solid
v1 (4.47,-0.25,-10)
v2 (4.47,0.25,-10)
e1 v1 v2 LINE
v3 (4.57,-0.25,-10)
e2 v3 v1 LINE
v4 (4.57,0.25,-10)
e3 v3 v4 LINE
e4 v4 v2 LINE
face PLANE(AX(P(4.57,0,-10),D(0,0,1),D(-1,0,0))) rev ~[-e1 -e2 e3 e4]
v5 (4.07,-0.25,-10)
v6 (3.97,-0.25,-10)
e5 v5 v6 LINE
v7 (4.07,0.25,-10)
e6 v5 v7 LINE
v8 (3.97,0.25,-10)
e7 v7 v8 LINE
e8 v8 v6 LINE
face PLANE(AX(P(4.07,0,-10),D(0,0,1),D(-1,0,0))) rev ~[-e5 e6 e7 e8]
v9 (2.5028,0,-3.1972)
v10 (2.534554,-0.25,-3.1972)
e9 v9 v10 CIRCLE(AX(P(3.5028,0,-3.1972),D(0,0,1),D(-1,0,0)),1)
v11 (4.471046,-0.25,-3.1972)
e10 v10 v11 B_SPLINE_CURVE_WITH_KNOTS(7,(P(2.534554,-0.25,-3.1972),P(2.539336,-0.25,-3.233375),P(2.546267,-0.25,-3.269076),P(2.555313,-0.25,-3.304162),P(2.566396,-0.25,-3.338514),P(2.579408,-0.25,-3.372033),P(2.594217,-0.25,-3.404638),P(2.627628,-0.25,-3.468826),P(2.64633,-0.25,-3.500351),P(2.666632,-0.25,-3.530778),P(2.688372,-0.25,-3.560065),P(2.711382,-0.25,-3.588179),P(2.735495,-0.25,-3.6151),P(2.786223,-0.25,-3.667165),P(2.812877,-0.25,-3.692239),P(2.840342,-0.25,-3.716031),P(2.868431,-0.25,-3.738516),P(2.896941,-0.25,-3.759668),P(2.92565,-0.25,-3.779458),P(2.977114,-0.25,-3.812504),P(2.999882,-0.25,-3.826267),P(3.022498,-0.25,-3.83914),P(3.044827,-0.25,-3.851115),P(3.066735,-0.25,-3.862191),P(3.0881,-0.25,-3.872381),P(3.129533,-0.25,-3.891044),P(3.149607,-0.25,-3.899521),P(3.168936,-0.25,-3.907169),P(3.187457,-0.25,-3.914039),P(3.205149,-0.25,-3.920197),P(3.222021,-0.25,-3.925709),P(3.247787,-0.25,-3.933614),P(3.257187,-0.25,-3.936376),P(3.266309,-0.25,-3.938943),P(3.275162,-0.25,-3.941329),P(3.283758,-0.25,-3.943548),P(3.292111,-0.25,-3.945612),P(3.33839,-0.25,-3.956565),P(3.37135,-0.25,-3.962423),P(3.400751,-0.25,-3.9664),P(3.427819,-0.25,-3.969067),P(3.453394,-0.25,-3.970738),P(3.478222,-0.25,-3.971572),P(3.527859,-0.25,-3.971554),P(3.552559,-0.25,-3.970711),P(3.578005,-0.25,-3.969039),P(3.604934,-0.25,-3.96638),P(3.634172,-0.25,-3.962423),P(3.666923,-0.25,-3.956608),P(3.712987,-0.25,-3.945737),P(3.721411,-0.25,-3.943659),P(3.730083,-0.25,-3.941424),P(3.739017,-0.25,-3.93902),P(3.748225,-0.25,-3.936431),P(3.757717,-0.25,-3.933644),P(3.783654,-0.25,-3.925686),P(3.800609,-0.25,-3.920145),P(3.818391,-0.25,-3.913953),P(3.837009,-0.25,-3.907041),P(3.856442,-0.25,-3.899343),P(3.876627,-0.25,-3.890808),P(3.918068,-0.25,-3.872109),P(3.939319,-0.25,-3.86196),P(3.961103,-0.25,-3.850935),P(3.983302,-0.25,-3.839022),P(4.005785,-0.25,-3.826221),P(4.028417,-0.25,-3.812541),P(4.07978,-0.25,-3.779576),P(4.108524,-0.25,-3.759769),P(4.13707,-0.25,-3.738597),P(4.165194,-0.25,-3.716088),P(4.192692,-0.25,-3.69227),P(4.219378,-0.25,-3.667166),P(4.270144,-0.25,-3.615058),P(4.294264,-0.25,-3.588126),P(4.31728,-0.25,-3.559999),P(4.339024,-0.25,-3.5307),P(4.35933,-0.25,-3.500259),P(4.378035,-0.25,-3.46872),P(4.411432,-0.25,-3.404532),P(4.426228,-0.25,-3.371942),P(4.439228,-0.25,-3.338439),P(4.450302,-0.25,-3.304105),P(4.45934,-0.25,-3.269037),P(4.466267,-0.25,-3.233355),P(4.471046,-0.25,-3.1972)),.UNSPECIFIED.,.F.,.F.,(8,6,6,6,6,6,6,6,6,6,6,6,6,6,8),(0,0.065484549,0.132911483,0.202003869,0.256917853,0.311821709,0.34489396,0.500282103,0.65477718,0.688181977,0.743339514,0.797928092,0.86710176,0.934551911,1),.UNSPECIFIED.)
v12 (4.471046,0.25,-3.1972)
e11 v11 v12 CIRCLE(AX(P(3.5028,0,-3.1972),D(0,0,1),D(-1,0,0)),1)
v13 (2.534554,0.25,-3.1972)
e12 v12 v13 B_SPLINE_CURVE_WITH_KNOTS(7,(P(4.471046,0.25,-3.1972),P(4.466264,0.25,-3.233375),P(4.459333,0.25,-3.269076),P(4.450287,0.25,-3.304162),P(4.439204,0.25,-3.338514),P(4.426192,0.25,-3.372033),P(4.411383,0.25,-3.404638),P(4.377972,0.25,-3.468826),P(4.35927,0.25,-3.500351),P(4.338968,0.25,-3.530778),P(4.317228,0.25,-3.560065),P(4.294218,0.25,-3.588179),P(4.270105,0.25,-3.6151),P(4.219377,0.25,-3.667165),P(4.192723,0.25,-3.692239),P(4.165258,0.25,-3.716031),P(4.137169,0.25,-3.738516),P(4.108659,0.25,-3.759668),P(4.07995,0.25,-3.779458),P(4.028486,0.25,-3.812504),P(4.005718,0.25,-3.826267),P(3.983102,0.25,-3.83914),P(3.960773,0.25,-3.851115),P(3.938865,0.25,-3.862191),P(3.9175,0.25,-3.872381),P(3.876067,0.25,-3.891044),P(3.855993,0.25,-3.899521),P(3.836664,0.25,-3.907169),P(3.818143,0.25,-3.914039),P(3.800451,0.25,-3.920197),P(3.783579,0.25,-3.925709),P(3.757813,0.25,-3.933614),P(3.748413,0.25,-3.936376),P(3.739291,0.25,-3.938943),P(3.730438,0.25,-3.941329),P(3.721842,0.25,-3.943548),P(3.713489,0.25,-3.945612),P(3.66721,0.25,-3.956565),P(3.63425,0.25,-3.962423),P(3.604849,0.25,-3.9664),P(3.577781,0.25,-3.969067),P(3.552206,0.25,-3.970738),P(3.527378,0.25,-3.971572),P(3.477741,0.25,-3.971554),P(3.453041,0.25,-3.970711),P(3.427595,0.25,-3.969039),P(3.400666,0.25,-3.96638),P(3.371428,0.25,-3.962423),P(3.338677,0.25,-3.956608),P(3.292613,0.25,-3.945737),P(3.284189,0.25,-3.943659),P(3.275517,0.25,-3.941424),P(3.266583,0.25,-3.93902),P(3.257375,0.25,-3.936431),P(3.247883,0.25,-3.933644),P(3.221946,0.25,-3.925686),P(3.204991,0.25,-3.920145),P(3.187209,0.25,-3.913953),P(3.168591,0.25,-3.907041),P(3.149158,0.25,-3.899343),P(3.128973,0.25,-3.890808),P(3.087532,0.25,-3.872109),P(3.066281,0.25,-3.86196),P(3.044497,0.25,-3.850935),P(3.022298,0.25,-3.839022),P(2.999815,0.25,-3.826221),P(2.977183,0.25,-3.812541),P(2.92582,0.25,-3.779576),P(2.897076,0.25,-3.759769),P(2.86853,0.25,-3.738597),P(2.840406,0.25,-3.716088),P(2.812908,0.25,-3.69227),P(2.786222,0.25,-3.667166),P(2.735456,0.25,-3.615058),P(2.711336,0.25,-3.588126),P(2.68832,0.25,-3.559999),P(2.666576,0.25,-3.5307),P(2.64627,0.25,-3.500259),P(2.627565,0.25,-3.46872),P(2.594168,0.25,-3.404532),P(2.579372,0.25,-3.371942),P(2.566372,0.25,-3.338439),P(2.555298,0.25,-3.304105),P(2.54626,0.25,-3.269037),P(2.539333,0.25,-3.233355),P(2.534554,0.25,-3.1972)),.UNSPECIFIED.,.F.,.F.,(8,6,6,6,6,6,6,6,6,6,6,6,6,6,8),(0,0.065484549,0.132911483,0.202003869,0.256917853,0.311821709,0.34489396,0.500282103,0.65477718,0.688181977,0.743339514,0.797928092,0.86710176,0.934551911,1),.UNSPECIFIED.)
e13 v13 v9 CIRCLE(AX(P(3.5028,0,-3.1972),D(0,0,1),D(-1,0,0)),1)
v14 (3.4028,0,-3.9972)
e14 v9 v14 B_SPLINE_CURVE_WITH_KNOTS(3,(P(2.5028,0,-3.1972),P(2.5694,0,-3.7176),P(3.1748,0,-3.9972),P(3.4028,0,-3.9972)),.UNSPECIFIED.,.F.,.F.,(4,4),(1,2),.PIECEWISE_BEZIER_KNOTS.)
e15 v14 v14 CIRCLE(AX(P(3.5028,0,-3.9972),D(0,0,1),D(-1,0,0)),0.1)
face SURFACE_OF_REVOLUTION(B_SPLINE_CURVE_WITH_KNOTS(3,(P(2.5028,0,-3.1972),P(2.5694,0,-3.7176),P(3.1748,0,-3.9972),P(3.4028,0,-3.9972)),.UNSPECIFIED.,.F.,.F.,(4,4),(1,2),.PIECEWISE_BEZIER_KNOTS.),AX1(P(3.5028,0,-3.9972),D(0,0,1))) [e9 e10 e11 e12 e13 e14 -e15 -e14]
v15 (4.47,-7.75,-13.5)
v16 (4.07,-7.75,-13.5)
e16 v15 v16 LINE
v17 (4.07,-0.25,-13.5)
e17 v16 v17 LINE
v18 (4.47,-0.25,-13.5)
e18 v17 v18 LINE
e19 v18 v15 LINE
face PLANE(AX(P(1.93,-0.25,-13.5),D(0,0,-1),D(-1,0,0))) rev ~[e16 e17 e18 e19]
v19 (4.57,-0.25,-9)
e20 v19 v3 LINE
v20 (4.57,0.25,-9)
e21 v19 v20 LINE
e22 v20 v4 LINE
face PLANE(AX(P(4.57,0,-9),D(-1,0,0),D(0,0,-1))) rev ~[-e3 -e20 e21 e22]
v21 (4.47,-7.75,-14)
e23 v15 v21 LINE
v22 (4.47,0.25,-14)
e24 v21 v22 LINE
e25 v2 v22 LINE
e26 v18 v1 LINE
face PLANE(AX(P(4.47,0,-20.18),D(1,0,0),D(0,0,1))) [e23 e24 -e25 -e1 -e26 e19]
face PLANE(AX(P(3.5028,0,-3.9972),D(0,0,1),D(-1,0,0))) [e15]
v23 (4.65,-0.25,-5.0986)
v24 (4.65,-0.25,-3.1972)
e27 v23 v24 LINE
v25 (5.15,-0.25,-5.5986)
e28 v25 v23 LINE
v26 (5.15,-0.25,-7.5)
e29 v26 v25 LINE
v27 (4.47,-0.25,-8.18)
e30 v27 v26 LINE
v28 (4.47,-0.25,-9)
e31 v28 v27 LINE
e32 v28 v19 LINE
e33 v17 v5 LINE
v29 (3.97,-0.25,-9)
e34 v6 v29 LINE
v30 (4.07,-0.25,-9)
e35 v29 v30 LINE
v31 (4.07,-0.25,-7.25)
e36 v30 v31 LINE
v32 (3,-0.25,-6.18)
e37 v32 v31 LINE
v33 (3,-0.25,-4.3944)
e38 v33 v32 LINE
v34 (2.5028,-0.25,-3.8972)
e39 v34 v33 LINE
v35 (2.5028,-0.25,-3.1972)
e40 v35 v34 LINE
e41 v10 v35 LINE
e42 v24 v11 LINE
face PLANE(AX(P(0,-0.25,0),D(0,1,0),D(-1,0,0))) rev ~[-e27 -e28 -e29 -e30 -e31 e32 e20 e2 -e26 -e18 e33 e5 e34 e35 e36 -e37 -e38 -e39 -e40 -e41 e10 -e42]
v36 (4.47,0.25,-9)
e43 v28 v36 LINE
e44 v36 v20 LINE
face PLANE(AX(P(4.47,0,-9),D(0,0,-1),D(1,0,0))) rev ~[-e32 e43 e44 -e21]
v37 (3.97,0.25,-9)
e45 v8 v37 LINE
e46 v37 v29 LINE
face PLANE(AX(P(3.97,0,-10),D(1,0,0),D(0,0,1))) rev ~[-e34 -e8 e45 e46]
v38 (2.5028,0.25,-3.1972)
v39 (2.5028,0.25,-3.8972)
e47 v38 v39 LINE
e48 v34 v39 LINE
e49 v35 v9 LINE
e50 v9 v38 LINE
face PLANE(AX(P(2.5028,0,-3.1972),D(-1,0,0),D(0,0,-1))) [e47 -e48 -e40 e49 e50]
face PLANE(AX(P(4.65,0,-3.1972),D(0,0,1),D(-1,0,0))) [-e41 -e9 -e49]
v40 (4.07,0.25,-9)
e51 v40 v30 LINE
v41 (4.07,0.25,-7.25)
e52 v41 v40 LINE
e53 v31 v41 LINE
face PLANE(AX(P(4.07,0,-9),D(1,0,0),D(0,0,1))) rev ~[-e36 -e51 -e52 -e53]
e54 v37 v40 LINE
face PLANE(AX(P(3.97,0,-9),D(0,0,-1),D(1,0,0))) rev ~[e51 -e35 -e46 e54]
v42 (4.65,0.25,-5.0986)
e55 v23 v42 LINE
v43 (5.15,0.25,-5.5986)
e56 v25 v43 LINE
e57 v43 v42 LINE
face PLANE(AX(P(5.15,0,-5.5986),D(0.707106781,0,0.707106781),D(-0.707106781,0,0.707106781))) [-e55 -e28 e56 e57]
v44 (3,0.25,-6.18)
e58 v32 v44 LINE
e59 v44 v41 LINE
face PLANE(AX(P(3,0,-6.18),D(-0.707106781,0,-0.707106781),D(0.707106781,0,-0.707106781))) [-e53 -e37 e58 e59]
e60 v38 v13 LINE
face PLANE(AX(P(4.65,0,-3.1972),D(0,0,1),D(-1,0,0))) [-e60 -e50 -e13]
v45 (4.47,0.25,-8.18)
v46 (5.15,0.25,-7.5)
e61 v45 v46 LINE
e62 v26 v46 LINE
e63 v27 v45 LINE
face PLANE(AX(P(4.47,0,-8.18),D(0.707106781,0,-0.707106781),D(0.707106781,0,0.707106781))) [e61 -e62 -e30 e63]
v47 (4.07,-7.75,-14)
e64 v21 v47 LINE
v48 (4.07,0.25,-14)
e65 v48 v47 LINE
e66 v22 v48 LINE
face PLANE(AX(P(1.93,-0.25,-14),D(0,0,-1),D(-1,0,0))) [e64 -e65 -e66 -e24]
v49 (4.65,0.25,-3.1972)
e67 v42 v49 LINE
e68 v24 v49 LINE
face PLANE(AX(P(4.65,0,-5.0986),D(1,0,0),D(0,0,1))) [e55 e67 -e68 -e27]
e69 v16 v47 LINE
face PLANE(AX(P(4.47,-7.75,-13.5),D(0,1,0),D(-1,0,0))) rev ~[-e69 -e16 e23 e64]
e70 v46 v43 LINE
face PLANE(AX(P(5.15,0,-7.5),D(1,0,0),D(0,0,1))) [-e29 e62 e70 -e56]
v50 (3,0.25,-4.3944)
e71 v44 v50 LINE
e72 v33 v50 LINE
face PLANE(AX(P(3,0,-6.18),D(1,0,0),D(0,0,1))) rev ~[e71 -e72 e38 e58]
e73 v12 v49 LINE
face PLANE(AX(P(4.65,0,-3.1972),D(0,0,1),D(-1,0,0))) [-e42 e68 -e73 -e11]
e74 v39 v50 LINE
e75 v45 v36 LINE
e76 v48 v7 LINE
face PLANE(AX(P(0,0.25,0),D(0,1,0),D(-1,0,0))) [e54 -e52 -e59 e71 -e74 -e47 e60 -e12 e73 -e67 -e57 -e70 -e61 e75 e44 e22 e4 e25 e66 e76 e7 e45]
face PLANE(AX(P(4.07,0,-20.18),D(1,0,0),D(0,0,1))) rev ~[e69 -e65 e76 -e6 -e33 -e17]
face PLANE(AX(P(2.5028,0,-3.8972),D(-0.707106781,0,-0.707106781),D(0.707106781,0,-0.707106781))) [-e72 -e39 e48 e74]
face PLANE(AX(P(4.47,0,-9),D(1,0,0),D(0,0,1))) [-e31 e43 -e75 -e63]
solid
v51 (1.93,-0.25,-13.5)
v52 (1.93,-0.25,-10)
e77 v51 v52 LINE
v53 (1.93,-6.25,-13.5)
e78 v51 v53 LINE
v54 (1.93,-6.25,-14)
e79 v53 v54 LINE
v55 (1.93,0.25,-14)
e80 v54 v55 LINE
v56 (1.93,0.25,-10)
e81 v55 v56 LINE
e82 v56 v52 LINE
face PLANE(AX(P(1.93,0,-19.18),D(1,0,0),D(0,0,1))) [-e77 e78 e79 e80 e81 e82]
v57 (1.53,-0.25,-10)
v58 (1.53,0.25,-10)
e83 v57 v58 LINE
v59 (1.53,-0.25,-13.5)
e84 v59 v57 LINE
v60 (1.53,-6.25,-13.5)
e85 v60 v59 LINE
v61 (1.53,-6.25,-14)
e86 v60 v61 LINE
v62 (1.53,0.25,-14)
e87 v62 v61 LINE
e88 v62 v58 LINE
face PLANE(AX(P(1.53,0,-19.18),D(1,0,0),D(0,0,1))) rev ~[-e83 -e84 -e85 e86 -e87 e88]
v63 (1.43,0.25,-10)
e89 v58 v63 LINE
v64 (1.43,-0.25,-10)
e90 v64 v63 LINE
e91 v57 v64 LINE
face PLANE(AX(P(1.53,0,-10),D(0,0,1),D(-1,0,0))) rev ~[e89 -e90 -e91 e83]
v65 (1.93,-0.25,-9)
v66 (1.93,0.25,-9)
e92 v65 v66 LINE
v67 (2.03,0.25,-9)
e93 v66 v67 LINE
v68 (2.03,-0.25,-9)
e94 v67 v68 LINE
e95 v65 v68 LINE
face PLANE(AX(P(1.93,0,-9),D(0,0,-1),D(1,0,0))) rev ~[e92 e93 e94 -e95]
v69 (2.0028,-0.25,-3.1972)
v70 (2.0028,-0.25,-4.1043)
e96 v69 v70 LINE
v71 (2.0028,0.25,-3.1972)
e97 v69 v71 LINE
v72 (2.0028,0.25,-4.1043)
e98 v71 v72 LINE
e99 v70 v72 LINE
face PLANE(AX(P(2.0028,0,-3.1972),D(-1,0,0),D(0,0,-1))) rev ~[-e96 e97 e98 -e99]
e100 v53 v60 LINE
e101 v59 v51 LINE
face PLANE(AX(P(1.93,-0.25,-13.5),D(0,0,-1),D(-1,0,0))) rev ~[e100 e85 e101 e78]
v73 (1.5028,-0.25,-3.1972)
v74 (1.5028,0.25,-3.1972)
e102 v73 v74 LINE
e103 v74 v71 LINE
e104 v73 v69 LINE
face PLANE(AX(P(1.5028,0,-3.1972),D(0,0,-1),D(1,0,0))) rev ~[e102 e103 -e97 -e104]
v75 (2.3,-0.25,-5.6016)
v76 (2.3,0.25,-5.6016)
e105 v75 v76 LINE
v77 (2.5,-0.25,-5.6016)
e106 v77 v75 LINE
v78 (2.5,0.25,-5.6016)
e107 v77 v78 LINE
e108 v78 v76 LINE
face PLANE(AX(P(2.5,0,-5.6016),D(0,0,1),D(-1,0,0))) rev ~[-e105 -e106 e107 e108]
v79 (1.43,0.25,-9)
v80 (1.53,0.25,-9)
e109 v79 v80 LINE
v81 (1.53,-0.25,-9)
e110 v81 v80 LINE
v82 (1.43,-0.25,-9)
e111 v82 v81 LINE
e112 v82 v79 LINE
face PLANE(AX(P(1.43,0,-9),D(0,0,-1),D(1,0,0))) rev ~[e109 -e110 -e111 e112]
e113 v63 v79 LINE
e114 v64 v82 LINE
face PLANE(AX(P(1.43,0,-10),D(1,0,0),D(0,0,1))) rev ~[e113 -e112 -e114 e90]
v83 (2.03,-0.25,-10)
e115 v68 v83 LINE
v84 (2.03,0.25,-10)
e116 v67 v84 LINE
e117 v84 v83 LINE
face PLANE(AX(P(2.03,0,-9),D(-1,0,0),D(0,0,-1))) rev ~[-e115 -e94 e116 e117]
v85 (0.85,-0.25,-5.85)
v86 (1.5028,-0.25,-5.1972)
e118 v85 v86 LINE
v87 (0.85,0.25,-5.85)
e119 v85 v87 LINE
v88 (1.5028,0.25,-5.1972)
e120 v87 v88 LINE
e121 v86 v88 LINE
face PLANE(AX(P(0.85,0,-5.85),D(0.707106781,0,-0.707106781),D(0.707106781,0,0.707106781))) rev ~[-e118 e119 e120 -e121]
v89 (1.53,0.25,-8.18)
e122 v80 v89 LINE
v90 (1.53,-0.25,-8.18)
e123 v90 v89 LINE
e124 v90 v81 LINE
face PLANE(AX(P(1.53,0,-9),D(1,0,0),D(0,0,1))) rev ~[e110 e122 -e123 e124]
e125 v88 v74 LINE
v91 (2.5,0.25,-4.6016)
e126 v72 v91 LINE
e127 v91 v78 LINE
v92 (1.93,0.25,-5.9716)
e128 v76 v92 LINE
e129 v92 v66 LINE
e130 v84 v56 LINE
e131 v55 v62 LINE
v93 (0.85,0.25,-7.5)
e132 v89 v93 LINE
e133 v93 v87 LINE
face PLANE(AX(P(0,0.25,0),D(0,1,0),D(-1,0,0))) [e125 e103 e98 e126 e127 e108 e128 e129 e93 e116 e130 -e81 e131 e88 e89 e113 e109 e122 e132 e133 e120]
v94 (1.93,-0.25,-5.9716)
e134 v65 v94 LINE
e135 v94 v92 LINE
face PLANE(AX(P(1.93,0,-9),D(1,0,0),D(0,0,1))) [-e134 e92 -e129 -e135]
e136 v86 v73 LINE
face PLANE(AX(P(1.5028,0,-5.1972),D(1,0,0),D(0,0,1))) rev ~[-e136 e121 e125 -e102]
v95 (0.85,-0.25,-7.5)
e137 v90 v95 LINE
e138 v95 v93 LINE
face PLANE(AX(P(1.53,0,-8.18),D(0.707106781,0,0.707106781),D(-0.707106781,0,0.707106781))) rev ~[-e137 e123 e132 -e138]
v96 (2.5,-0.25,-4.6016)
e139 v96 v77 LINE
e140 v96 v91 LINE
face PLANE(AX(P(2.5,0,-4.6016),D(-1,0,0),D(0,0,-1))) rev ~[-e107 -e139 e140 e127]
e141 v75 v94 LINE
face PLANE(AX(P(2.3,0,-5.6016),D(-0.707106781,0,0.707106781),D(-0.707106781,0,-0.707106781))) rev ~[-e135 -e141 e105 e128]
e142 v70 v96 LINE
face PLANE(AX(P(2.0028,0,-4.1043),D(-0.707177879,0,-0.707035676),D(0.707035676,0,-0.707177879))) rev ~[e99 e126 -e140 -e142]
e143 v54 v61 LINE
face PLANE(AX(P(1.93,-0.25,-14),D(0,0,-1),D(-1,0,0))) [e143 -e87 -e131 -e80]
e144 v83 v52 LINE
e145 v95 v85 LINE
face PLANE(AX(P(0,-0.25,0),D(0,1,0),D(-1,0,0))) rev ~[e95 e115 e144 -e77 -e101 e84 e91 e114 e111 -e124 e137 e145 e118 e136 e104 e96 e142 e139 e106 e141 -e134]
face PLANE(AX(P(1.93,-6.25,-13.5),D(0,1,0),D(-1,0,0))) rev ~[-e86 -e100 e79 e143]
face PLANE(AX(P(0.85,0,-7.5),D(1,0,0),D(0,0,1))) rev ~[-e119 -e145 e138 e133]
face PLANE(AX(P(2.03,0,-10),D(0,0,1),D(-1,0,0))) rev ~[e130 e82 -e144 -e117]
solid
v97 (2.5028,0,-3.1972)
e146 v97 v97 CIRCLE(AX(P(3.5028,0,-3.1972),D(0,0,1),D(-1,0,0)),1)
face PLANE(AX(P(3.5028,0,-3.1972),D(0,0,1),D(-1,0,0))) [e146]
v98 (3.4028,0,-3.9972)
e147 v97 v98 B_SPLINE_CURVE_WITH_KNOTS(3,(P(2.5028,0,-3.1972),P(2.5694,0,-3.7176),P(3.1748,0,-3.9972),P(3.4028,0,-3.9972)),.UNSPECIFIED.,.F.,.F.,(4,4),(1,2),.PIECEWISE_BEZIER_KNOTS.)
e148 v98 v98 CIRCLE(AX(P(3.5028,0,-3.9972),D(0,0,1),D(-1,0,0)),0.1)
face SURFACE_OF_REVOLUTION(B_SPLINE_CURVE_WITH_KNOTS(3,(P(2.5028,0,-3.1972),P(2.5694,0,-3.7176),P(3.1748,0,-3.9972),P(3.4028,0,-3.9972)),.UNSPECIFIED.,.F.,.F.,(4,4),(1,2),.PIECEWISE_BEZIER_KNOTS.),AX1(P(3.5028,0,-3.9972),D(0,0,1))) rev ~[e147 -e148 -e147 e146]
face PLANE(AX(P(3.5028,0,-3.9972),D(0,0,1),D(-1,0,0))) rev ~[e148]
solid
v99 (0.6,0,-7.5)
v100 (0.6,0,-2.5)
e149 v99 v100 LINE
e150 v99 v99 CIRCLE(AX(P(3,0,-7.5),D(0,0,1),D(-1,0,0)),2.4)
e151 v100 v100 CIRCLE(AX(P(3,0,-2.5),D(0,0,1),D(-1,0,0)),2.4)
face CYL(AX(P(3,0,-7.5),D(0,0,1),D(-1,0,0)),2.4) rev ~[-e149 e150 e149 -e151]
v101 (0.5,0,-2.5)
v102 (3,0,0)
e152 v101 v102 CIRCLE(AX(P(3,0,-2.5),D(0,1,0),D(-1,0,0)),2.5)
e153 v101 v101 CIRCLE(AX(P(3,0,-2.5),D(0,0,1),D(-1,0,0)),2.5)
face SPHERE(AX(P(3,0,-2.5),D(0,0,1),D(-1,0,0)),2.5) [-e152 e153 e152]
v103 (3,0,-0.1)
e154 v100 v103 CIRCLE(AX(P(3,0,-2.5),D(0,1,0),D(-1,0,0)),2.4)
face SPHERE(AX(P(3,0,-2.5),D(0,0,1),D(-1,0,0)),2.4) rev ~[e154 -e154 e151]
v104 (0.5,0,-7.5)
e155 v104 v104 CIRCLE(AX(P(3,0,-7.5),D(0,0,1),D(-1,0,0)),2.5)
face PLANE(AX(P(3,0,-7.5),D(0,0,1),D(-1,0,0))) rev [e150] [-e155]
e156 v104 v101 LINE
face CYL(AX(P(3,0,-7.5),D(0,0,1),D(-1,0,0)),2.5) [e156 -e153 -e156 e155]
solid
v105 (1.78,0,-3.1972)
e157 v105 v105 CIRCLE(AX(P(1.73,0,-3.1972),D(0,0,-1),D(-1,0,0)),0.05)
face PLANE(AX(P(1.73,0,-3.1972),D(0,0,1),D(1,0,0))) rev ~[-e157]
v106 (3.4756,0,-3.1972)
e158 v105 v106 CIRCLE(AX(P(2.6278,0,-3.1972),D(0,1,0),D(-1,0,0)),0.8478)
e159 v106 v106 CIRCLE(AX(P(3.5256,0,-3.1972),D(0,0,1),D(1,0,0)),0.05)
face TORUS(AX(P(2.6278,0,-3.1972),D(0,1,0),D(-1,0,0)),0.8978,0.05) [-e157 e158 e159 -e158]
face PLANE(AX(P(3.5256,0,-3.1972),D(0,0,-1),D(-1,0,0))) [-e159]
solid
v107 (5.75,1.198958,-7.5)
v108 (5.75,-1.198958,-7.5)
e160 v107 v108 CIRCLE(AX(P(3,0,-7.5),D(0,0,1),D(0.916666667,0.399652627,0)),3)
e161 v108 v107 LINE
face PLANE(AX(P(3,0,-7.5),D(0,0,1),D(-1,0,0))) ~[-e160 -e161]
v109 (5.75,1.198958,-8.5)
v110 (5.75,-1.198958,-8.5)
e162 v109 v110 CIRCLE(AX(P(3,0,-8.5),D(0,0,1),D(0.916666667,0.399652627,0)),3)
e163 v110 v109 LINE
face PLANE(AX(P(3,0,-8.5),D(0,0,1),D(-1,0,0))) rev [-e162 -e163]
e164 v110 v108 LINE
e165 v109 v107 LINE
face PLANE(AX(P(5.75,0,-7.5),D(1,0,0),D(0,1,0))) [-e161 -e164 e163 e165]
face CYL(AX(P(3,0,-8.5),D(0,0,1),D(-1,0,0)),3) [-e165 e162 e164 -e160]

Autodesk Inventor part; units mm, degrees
ref_plane "YZ Plane" through (0, 0, 0) normal (1, 0, 0) x (0, 1, 0)
ref_plane "XZ Plane" through (0, 0, 0) normal (0, 1, 0) x (-1, 0, 0)
ref_plane "XY Plane" through (0, 0, 0) normal (0, 0, 1) x (1, 0, 0)
sketch "Sketch1" plane through (0, 0, 0) normal (0, 1, 0) x (-1, 0, 0)
  line L0 (-1.93, -19.18) -> (-1.53, -19.18)
  line L1 (-4.47, -20.18) -> (-4.07, -20.18)
  line L2 (-0.5, -2.5) -> (-5.5, -2.5) construction
  line L3 (-5.5, -2.5) -> (-5.5, -7.5)
  line L4 (-5.5, -7.5) -> (-0.5, -7.5)
  line L5 (-0.5, -7.5) -> (-0.5, -2.5)
  line L6 (0, -7.5) -> (-6, -7.5)
  line L7 (-6, -7.5) -> (-6, -8.5)
  line L8 (-6, -8.5) -> (0, -8.5)
  line L9 (0, -8.5) -> (0, -7.5)
  arc A0 (-0.5, -2.5) -> (-5.5, -2.5) centre (-3, -2.5) ccw
  line L10 (0, -24.216) -> (0, 4.0361) projected
  line L11 (17.1925, 0) -> (-9.8654, 0) projected
  line L12 (-3, -8.5) -> (-3, -19.8408) construction
  line L13 (-1.53, -19.18) -> (-1.53, -10)
  line L14 (-1.93, -19.18) -> (-1.93, -10)
  line L15 (-4.07, -20.18) -> (-4.07, -10)
  line L16 (-4.47, -20.18) -> (-4.47, -10)
  line L17 (-3, -8.5) -> (-3, 0)
  line L18 (-6, -19.8408) -> (0, -19.8408) construction
  line L19 (-1.43, -9) -> (-1.53, -9)
  line L20 (-2.03, -9) -> (-2.03, -10)
  line L21 (-2.03, -10) -> (-1.93, -10)
  line L22 (-1.43, -10) -> (-1.43, -9)
  line L23 (-3.97, -9) -> (-4.07, -9)
  line L24 (-4.57, -9) -> (-4.57, -10)
  line L25 (-4.57, -10) -> (-4.47, -10)
  line L26 (-3.97, -10) -> (-3.97, -9)
  line L27 (-1.93, -9) -> (-2.03, -9)
  line L28 (-4.07, -9) -> (-4.07, -7.25)
  line L29 (-4.47, -9) -> (-4.57, -9)
  line L30 (-4.07, -10) -> (-3.97, -10)
  line L31 (-1.53, -10) -> (-1.43, -10)
  line L32 (-4.47, -9) -> (-4.47, -8.18)
  line L33 (-1.93, -9) -> (-1.93, -5.9716)
  line L34 (-1.53, -9) -> (-1.53, -8.18)
  line L35 (-4.47, -8.18) -> (-5.15, -7.5)
  line L36 (-1.53, -8.18) -> (-0.85, -7.5)
  line L37 (-0.85, -7.5) -> (-0.85, -5.85)
  line L38 (-5.15, -7.5) -> (-5.15, -5.5986)
  line L39 (-5.15, -5.5986) -> (-4.65, -5.0986)
  line L40 (-4.65, -5.0986) -> (-4.65, -3.1972)
  line L41 (-4.65, -3.1972) -> (-2.5028, -3.1972)
  line L42 (-0.85, -5.85) -> (-1.5028, -5.1972)
  line L43 (-1.5028, -5.1972) -> (-1.5028, -3.1972)
  line L44 (-1.5028, -3.1972) -> (-2.0028, -3.1972)
  line L45 (-2.0028, -3.1972) -> (-2.0028, -4.1043)
  line L46 (-2.0028, -4.1043) -> (-2.5, -4.6016)
  line L47 (-2.5, -4.6016) -> (-2.5, -5.6016)
  line L48 (-2.5, -5.6016) -> (-2.3, -5.6016)
  line L49 (-2.3, -5.6016) -> (-1.93, -5.9716)
  line L50 (8.8309, -12.5892) -> (8.8309, -17.0713)
  line L51 (8.7309, -12.5892) -> (8.8309, -12.5892)
  line L52 (8.8309, -17.0713) -> (9.3309, -17.0713)
  line L53 (9.3309, -17.0713) -> (9.3309, -12.5892)
  line L54 (11.3309, -18.2444) -> (11.8309, -18.2444)
  line L55 (11.3309, -12.5815) -> (11.3309, -18.2444)
  line L56 (11.8309, -18.2444) -> (11.8309, -12.5815)
  line L57 (8.2266, -6.0537) -> (8.2266, -7.4999)
  line L58 (8.5861, -5.6941) -> (8.2266, -6.0537)
  line L59 (8.5861, -4.3452) -> (8.5861, -5.6941)
  line L60 (8.2266, -7.4999) -> (8.8309, -8.1043)
  line L61 (9.3309, -7.3282) -> (9.7365, -6.9226)
  line L62 (9.7365, -6.9226) -> (10.3309, -6.9226)
  line L63 (10.3309, -6.9226) -> (10.3309, -5.844)
  line L64 (8.5861, -4.3452) -> (11.2106, -4.3452)
  line L65 (10.8309, -6.0512) -> (10.8309, -6.9149)
  line L66 (10.8309, -6.9149) -> (11.1527, -6.9149)
  line L67 (11.2393, -4.3452) -> (11.2106, -4.3452)
  line L68 (11.1527, -6.9149) -> (11.3309, -7.0932)
  line L69 (11.8309, -8.0966) -> (12.4276, -7.4999)
  line L70 (12.4276, -7.4999) -> (12.4276, -5.8553)
  line L71 (9.4309, -11.5892) -> (9.3309, -11.5892)
  line L72 (11.8309, -11.5815) -> (11.8309, -8.0966)
  line L73 (8.8309, -8.1043) -> (8.8309, -11.5892)
  line L74 (11.3309, -7.0932) -> (11.3309, -11.5815)
  line L75 (9.3309, -11.5892) -> (9.3309, -7.3282)
  line L76 (10.3309, -5.844) -> (11.2106, -4.9643)
  line L77 (11.7107, -5.1714) -> (10.8309, -6.0512)
  line L78 (11.2106, -4.3452) -> (11.2393, -4.3452) construction
  line L79 (12.4276, -5.8553) -> (12.2082, -5.6359)
  line L80 (11.2106, -4.2719) -> (11.2106, -4.3452)
  line L81 (11.2106, -4.9643) -> (11.2106, -4.2719)
  line L82 (11.2106, -4.2719) -> (11.2393, -4.3452)
  line L83 (11.7107, -4.3453) -> (11.7107, -5.1714)
  line L84 (10.8445, -3.7709) -> (11.3445, -3.7709) construction
  spline S0 degree 3 poles (11.9954, -4.3997) (11.9862, -4.3486) (11.9578, -4.2521) (11.8889, -4.1254) (11.7974, -4.0171) (11.6749, -3.9177) (11.5186, -3.8358) (11.3301, -3.782) (11.1322, -3.7647) (10.9338, -3.7851) (10.7437, -3.8443) (10.5851, -3.9352) (10.4598, -4.0478) (10.3654, -4.1727) (10.2931, -4.3216) (10.262, -4.4371) (10.2513, -4.4991) knots 0 0 0 0 0.0625 0.125 0.1875 0.25 0.333333 0.416667 0.5 0.583333 0.666667 0.75 0.8125 0.875 0.9375 1 1 1 1
  line L85 (12.2082, -4.3453) -> (11.7107, -4.3453)
  line L86 (12.2082, -5.6359) -> (12.2082, -4.3453)
  line L87 (9.3309, -12.5892) -> (9.4309, -12.5892)
  line L88 (11.2309, -12.5815) -> (11.3309, -12.5815)
  line L89 (11.8309, -12.5815) -> (11.9309, -12.5815)
  line L90 (8.7309, -11.5892) -> (8.7309, -12.5892)
  line L91 (8.8309, -11.5892) -> (8.7309, -11.5892)
  line L92 (9.4309, -12.5892) -> (9.4309, -11.5892)
  line L93 (11.3309, -11.5815) -> (11.2309, -11.5815)
  line L94 (11.2309, -11.5815) -> (11.2309, -12.5815)
  line L95 (11.9309, -12.5815) -> (11.9309, -11.5815)
  line L96 (11.9309, -11.5815) -> (11.8309, -11.5815)
  line L97 (13.3271, -7.4999) -> (7.3271, -7.4999)
  line L98 (7.3271, -7.4999) -> (7.3271, -8.4999)
  line L99 (7.3271, -8.4999) -> (13.3271, -8.4999)
  line L100 (13.3271, -8.4999) -> (13.3271, -7.4999)
  line L101 (12.4276, -7.4999) -> (8.2266, -7.4999)
  line L102 (12.8271, -7.4999) -> (7.8271, -7.4999)
  line L103 (7.8271, -7.4999) -> (7.8271, -2.4999)
  line L104 (7.8271, -2.4999) -> (12.8271, -2.4999) construction
  line L105 (12.8271, -2.4999) -> (12.8271, -7.4999)
  arc A1 (12.8271, -2.4999) -> (7.8271, -2.4999) centre (10.3271, -2.4999) ccw
  line L106 (-2.5028, -3.1972) -> (-2.5028, -3.8972)
  line L107 (-2.5028, -3.8972) -> (-3, -4.3944)
  line L108 (-3, -4.3944) -> (-3, -5.9975)
  line L109 (-3, -6.18) -> (-4.07, -7.25)
  line L110 (-2.5028, -3.1972) -> (-2.0028, -3.1972) construction
  line L111 (-2.5, -5.6016) -> (-3, -5.9975) construction
  point P0 (0, 0)
  point P1 (-3, -7.5)
  point P2 (0, -8)
  point P3 (-1.73, -19.18)
  point P4 (-4.27, -20.18)
  point P5 (-3, -7.5)
  point P6 (0, 0)
  point P7 (7.8271, -7.4999)
  point P8 (10.3271, -7.4999)
  point P9 (-3, -5.196)
  point P10 (-3, -4.3944)
  point P11 (-3, -3.1972)
  dimension "d10" = 5
  dimension "d12" = 6
  dimension "d13" = 5
  dimension "d14" = 6
  dimension "Jarak_Kaki" = 2.54
  dimension "d18" = 1
  dimension "d19" = 0.4
  dimension "d20" = 1.27
  dimension "Panjang_Kaki" = 12
  dimension "d30" = 0.6
  dimension "d31" = 1
  dimension "d32" = 0.5
  dimension "d34" = 135
  dimension "d35" = 0.35
  dimension "d51" = 0.5
  dimension "d76" = 1.65
  dimension "d82" = 2.5
  dimension "d83" = 0.5
  dimension "d84" = 0.5
  dimension "d85" = 1
  dimension "d86" = 0.5
  dimension "d87" = 0.5
  dimension "d89" = 0.7
  dimension "d92" = 0.5
  dimension "d93" = 0.25
  dimension "d95" = 1
  dimension "d104" = 0.2
  dimension "d106" = 2
revolve "Revolution1" add sketch "Sketch1" angle 360 about axis through (3, 0, -8.5) along (0, 0, 1) contours L33 L49 L48 L47 L46 L45 L44 L43 L42 L37 L4 | L4 L17 L107 L106 L41 A0 L5 L37 L42 L43 L44 L45 L46 L47 L48 L49 L33 | L17 L41 L106 L107
shell "Shell1" thickness 0.1 removed faces 1 at (3.6238, -0.5526, -7.5)
revolve "Revolution2" add sketch "Sketch1" angle 360 about axis through (3, 0, -8.5) along (0, 0, 1) separate body contours L33 L4 L36 L34 L8 | L8 L17 L4 L33 | L34 L36 L4 L6 L9 L8
sketch "Sketch2" plane through (3, 0, -7.5) normal (0, 0, 1) x (1, 0, 0)
  line L0 (2.75, 2.5) -> (3.75, 2.5)
  line L1 (3.75, 2.5) -> (3.75, -2.5)
  line L2 (3.75, -2.5) -> (2.75, -2.5)
  line L3 (2.75, -2.5) -> (2.75, 2.5)
  circle A0 centre (0, 0) radius 2.5 projected
  circle A1 centre (0, 0) radius 2.5 projected
  line L4 (-3, -4.2) -> (-3, 4.2) construction
  line L5 (2.5, -1.6681) -> (2.5, 1.3873) construction
  line L6 (-4.368, 0) -> (5.2078, 0) projected
  point P0 (-3, 0)
  point P1 (2.75, 0)
  dimension "d110" = 0.25
  dimension "d111" = 5
  dimension "d112" = 1
extrude "Extrusion1" cut sketch "Sketch2" against normal up to next contours L0 L1 L6 L3 | L6 L1 L2 L3 bodies 2
extrude "Extrusion2" add sketch "Sketch1" along normal mid plane 0.5 separate body contours L14 L21 L20 L27 L33 L8 L34 L19 L22 L31 L13 L0 | L33 L4 L36 L34 L8 | L33 L49 L48 L47 L46 L45 L44 L43 L42 L37 L4 | L28 L23 L26 L30 L15 L1 L16 L25 L24 L29 L32 L8 | L8 L32 L35 L4 L28 | L4 L38 L39 L40 L41 L17 L109 L28 | L17 L41 L106 L107
sketch "Sketch3" plane through (2.4, 0, -4) normal (0, 1, 0) x (1, 0, 0)
  line L0 (0.1028, -0.1028) -> (0.1028, -0.8028) projected
  line L1 (0.1028, -0.8028) -> (0.1694, -0.2824) construction
  line L2 (0.1694, -0.2824) -> (0.7748, -0.0028) construction
  line L3 (0.7748, -0.0028) -> (1.0028, -0.0028) construction
  spline S0 degree 3 poles (0.1028, -0.8028) (0.1694, -0.2824) (0.7748, -0.0028) (1.0028, -0.0028) knots 1 1 1 1 2 2 2 2
  line L4 (0.1028, -0.8028) -> (2.25, -0.8028) projected
  line L5 (1.0028, -0.0028) -> (1.1028, -0.0028)
  line L6 (1.1028, -0.0028) -> (1.1028, -0.8028)
  dimension "d99" = 0.8
  dimension "d100" = 0.9
  dimension "d101" = 0.1
revolve "Revolution3" cut sketch "Sketch3" angle 360 about axis through (3.5028, 0, -3.9972) along (0, 0, 1) bodies 3
revolve "Revolution4" add sketch "Sketch3" angle 360 about axis through (3.5028, 0, -3.9972) along (0, 0, 1) separate body
sketch "Sketch4" plane through (3.5028, 0, -3.1972) normal (0, 0, 1) x (1, 0, 0)
  circle A0 centre (-1.7728, 0) radius 0.05
  line L0 (-2, -0.25) -> (-2, 0.25) construction
  line L1 (-2, 0.25) -> (-1.5, 0.25) construction
  line L2 (-1.5728, 0.25) -> (-1.9728, 0.25) construction
  line L3 (-2, 0) -> (-1.7728, 0) construction
  line L4 (-1.7728, 0) -> (-1.7728, 0.25) construction
  line L5 (-1.7728, 0.25) -> (-2, 0.25) construction
  line L6 (-2, 0.25) -> (-2, 0) construction
  circle A1 centre (0, 0) radius 0.05
  point P0 (-3.5028, 0)
  dimension "d109" = 0.1
sketch "Sketch5" plane through (0, 0, 0) normal (0, 1, 0) x (-1, 0, 0)
  line L0 (-5.5, -2.5) -> (-0.5, -2.5) construction
  line L1 (-5.5, -7.5) -> (-0.5, -7.5) construction
  line L2 (-1.5028, -3.1972) -> (-2.0028, -3.1972) construction
  line L3 (-4.5028, -3.1972) -> (-2.5028, -3.1972) construction
  line L4 (-1.7528, -3.1972) -> (-3.5028, -3.1972) construction
  arc A0 (-1.7528, -3.1972) -> (-3.5028, -3.1972) centre (-2.6278, -3.1972) ccw
  point P0 (0, 0)
sweep "Sweep1" add profiles "Sketch4" path "Sketch5" separate body contours A0
sketch "Sketch8" plane through (0, -0.25, 0) normal (0, -1, 0) x (1, 0, 0)
  arc A0 (5.4875, -2.5) -> (0.5125, -2.5) centre (3, -2.5) ccw projected
  line L0 (5.4875, -2.5) -> (5.4875, -7.5) projected
  line L1 (5.4875, -7.5) -> (5.3869, -7.5) projected
  line L2 (5.3869, -7.5) -> (5.3869, -2.5) projected
  arc A1 (5.3869, -2.5) -> (0.6131, -2.5) centre (3, -2.5) ccw projected
  line L3 (0.6131, -2.5) -> (0.6131, -7.5) projected
  line L4 (0.6131, -7.5) -> (0.5125, -7.5) projected
  line L5 (0.5125, -7.5) -> (0.5125, -2.5) projected
  line L6 (5.75, -7.5) -> (5.75, -8.5) projected
  line L7 (5.75, -8.5) -> (0.0104, -8.5) projected
  line L8 (0.0104, -8.5) -> (0.0104, -7.5) projected
  line L9 (0.0104, -7.5) -> (5.75, -7.5) projected
  line L10 (1.93, -5.9716) -> (1.93, -9) projected
  line L11 (1.93, -9) -> (2.03, -9) projected
  line L12 (2.03, -9) -> (2.03, -10) projected
  line L13 (2.03, -10) -> (1.93, -10) projected
  line L14 (1.93, -10) -> (1.93, -19.18) projected
  line L15 (1.93, -19.18) -> (1.53, -19.18) projected
  line L16 (1.53, -19.18) -> (1.53, -10) projected
  line L17 (1.53, -10) -> (1.43, -10) projected
  line L18 (1.43, -10) -> (1.43, -9) projected
  line L19 (1.43, -9) -> (1.53, -9) projected
  line L20 (1.53, -9) -> (1.53, -8.18) projected
  line L21 (1.53, -8.18) -> (0.85, -7.5) projected
  line L22 (0.85, -7.5) -> (0.85, -5.85) projected
  line L23 (0.85, -5.85) -> (1.5028, -5.1972) projected
  line L24 (1.5028, -5.1972) -> (1.5028, -3.1972) projected
  line L25 (1.5028, -3.1972) -> (2.0028, -3.1972) projected
  line L26 (2.0028, -3.1972) -> (2.0028, -4.1043) projected
  line L27 (2.0028, -4.1043) -> (2.5, -4.6016) projected
  line L28 (2.5, -4.6016) -> (2.5, -5.6016) projected
  line L29 (2.5, -5.6016) -> (2.3, -5.6016) projected
  line L30 (2.3, -5.6016) -> (1.93, -5.9716) projected
  line L31 (4.471, -3.1972) -> (4.65, -3.1972) projected
  line L32 (4.65, -3.1972) -> (4.65, -5.0986) projected
  line L33 (4.65, -5.0986) -> (5.15, -5.5986) projected
  line L34 (5.15, -5.5986) -> (5.15, -7.5) projected
  line L35 (5.15, -7.5) -> (4.47, -8.18) projected
  line L36 (4.47, -8.18) -> (4.47, -9) projected
  line L37 (4.47, -9) -> (4.57, -9) projected
  line L38 (4.57, -9) -> (4.57, -10) projected
  line L39 (4.57, -10) -> (4.47, -10) projected
  line L40 (4.47, -10) -> (4.47, -20.18) projected
  line L41 (4.47, -20.18) -> (4.07, -20.18) projected
  line L42 (4.07, -20.18) -> (4.07, -10) projected
  line L43 (4.07, -10) -> (3.97, -10) projected
  line L44 (3.97, -10) -> (3.97, -9) projected
  line L45 (3.97, -9) -> (4.07, -9) projected
  line L46 (4.07, -9) -> (4.07, -7.25) projected
  line L47 (4.07, -7.25) -> (3, -6.18) projected
  line L48 (3, -6.18) -> (3, -4.3944) projected
  line L49 (3, -4.3944) -> (2.5028, -3.8972) projected
  line L50 (2.5028, -3.8972) -> (2.5028, -3.1972) projected
  line L51 (2.5028, -3.1972) -> (2.5345, -3.1972) projected
  line L52 (2.5345, -3.1972) -> (4.471, -3.1972) projected
  line L53 (1.53, -13.5) -> (4.47, -13.5)
  point P0 (0, 0)
  point P1 (4.07, -13.5)
  point P2 (1.93, -13.5)
  dimension "d117" = 5
extrude "Extrusion3" cut sketch "Sketch8" against normal up to surface (0.5 mm away) contours L40 L41 L42 L53 | L53 L14 L15 L16 bodies 3
sketch "Sketch9" plane through (1.93, -0.25, -13.5) normal (0, 0, -1) x (-1, 0, 0)
  line L0 (-2.54, 0.5) -> (-2.14, 0.5) projected
  line L1 (-2.14, 0.5) -> (-2.14, 0) projected
  line L2 (-2.14, 0) -> (-2.54, 0) projected
  line L3 (-2.54, 0) -> (-2.54, 0.5) projected
  line L4 (0, 0.5) -> (0.4, 0.5) projected
  line L5 (0.4, 0.5) -> (0.4, 0) projected
  line L6 (0.4, 0) -> (0, 0) projected
  line L7 (0, 0) -> (0, 0.5) projected
  line L8 (-2.14, 0) -> (-2.54, 0)
  line L9 (-2.54, 0) -> (-2.54, -7.5)
  line L10 (-2.54, -7.5) -> (-2.14, -7.5)
  line L11 (-2.14, -7.5) -> (-2.14, 0)
  line L12 (0.4, 0) -> (0, 0)
  line L13 (0, 0) -> (0, -6)
  line L14 (0, -6) -> (0.4, -6)
  line L15 (0.4, -6) -> (0.4, 0)
  point P0 (1.93, 0.25)
  point P1 (-2.34, 0)
  point P2 (0.2, -6)
  point P3 (0.2, 0)
  point P4 (-2.34, 0)
  point P5 (0.2, 0)
  dimension "d124" = 7.5
  dimension "d125" = 6
extrude "Extrusion4" add sketch "Sketch9" along normal blind 0.5 bodies 3
equation "\"d10\" = Diameter_Led"
equation "\"d13\" = Diameter_Led"
equation "\"d20\" = 0.5 * Jarak_Kaki"
equation "\"Diameter_Led\" = 5"
properties part number "LED - white"
